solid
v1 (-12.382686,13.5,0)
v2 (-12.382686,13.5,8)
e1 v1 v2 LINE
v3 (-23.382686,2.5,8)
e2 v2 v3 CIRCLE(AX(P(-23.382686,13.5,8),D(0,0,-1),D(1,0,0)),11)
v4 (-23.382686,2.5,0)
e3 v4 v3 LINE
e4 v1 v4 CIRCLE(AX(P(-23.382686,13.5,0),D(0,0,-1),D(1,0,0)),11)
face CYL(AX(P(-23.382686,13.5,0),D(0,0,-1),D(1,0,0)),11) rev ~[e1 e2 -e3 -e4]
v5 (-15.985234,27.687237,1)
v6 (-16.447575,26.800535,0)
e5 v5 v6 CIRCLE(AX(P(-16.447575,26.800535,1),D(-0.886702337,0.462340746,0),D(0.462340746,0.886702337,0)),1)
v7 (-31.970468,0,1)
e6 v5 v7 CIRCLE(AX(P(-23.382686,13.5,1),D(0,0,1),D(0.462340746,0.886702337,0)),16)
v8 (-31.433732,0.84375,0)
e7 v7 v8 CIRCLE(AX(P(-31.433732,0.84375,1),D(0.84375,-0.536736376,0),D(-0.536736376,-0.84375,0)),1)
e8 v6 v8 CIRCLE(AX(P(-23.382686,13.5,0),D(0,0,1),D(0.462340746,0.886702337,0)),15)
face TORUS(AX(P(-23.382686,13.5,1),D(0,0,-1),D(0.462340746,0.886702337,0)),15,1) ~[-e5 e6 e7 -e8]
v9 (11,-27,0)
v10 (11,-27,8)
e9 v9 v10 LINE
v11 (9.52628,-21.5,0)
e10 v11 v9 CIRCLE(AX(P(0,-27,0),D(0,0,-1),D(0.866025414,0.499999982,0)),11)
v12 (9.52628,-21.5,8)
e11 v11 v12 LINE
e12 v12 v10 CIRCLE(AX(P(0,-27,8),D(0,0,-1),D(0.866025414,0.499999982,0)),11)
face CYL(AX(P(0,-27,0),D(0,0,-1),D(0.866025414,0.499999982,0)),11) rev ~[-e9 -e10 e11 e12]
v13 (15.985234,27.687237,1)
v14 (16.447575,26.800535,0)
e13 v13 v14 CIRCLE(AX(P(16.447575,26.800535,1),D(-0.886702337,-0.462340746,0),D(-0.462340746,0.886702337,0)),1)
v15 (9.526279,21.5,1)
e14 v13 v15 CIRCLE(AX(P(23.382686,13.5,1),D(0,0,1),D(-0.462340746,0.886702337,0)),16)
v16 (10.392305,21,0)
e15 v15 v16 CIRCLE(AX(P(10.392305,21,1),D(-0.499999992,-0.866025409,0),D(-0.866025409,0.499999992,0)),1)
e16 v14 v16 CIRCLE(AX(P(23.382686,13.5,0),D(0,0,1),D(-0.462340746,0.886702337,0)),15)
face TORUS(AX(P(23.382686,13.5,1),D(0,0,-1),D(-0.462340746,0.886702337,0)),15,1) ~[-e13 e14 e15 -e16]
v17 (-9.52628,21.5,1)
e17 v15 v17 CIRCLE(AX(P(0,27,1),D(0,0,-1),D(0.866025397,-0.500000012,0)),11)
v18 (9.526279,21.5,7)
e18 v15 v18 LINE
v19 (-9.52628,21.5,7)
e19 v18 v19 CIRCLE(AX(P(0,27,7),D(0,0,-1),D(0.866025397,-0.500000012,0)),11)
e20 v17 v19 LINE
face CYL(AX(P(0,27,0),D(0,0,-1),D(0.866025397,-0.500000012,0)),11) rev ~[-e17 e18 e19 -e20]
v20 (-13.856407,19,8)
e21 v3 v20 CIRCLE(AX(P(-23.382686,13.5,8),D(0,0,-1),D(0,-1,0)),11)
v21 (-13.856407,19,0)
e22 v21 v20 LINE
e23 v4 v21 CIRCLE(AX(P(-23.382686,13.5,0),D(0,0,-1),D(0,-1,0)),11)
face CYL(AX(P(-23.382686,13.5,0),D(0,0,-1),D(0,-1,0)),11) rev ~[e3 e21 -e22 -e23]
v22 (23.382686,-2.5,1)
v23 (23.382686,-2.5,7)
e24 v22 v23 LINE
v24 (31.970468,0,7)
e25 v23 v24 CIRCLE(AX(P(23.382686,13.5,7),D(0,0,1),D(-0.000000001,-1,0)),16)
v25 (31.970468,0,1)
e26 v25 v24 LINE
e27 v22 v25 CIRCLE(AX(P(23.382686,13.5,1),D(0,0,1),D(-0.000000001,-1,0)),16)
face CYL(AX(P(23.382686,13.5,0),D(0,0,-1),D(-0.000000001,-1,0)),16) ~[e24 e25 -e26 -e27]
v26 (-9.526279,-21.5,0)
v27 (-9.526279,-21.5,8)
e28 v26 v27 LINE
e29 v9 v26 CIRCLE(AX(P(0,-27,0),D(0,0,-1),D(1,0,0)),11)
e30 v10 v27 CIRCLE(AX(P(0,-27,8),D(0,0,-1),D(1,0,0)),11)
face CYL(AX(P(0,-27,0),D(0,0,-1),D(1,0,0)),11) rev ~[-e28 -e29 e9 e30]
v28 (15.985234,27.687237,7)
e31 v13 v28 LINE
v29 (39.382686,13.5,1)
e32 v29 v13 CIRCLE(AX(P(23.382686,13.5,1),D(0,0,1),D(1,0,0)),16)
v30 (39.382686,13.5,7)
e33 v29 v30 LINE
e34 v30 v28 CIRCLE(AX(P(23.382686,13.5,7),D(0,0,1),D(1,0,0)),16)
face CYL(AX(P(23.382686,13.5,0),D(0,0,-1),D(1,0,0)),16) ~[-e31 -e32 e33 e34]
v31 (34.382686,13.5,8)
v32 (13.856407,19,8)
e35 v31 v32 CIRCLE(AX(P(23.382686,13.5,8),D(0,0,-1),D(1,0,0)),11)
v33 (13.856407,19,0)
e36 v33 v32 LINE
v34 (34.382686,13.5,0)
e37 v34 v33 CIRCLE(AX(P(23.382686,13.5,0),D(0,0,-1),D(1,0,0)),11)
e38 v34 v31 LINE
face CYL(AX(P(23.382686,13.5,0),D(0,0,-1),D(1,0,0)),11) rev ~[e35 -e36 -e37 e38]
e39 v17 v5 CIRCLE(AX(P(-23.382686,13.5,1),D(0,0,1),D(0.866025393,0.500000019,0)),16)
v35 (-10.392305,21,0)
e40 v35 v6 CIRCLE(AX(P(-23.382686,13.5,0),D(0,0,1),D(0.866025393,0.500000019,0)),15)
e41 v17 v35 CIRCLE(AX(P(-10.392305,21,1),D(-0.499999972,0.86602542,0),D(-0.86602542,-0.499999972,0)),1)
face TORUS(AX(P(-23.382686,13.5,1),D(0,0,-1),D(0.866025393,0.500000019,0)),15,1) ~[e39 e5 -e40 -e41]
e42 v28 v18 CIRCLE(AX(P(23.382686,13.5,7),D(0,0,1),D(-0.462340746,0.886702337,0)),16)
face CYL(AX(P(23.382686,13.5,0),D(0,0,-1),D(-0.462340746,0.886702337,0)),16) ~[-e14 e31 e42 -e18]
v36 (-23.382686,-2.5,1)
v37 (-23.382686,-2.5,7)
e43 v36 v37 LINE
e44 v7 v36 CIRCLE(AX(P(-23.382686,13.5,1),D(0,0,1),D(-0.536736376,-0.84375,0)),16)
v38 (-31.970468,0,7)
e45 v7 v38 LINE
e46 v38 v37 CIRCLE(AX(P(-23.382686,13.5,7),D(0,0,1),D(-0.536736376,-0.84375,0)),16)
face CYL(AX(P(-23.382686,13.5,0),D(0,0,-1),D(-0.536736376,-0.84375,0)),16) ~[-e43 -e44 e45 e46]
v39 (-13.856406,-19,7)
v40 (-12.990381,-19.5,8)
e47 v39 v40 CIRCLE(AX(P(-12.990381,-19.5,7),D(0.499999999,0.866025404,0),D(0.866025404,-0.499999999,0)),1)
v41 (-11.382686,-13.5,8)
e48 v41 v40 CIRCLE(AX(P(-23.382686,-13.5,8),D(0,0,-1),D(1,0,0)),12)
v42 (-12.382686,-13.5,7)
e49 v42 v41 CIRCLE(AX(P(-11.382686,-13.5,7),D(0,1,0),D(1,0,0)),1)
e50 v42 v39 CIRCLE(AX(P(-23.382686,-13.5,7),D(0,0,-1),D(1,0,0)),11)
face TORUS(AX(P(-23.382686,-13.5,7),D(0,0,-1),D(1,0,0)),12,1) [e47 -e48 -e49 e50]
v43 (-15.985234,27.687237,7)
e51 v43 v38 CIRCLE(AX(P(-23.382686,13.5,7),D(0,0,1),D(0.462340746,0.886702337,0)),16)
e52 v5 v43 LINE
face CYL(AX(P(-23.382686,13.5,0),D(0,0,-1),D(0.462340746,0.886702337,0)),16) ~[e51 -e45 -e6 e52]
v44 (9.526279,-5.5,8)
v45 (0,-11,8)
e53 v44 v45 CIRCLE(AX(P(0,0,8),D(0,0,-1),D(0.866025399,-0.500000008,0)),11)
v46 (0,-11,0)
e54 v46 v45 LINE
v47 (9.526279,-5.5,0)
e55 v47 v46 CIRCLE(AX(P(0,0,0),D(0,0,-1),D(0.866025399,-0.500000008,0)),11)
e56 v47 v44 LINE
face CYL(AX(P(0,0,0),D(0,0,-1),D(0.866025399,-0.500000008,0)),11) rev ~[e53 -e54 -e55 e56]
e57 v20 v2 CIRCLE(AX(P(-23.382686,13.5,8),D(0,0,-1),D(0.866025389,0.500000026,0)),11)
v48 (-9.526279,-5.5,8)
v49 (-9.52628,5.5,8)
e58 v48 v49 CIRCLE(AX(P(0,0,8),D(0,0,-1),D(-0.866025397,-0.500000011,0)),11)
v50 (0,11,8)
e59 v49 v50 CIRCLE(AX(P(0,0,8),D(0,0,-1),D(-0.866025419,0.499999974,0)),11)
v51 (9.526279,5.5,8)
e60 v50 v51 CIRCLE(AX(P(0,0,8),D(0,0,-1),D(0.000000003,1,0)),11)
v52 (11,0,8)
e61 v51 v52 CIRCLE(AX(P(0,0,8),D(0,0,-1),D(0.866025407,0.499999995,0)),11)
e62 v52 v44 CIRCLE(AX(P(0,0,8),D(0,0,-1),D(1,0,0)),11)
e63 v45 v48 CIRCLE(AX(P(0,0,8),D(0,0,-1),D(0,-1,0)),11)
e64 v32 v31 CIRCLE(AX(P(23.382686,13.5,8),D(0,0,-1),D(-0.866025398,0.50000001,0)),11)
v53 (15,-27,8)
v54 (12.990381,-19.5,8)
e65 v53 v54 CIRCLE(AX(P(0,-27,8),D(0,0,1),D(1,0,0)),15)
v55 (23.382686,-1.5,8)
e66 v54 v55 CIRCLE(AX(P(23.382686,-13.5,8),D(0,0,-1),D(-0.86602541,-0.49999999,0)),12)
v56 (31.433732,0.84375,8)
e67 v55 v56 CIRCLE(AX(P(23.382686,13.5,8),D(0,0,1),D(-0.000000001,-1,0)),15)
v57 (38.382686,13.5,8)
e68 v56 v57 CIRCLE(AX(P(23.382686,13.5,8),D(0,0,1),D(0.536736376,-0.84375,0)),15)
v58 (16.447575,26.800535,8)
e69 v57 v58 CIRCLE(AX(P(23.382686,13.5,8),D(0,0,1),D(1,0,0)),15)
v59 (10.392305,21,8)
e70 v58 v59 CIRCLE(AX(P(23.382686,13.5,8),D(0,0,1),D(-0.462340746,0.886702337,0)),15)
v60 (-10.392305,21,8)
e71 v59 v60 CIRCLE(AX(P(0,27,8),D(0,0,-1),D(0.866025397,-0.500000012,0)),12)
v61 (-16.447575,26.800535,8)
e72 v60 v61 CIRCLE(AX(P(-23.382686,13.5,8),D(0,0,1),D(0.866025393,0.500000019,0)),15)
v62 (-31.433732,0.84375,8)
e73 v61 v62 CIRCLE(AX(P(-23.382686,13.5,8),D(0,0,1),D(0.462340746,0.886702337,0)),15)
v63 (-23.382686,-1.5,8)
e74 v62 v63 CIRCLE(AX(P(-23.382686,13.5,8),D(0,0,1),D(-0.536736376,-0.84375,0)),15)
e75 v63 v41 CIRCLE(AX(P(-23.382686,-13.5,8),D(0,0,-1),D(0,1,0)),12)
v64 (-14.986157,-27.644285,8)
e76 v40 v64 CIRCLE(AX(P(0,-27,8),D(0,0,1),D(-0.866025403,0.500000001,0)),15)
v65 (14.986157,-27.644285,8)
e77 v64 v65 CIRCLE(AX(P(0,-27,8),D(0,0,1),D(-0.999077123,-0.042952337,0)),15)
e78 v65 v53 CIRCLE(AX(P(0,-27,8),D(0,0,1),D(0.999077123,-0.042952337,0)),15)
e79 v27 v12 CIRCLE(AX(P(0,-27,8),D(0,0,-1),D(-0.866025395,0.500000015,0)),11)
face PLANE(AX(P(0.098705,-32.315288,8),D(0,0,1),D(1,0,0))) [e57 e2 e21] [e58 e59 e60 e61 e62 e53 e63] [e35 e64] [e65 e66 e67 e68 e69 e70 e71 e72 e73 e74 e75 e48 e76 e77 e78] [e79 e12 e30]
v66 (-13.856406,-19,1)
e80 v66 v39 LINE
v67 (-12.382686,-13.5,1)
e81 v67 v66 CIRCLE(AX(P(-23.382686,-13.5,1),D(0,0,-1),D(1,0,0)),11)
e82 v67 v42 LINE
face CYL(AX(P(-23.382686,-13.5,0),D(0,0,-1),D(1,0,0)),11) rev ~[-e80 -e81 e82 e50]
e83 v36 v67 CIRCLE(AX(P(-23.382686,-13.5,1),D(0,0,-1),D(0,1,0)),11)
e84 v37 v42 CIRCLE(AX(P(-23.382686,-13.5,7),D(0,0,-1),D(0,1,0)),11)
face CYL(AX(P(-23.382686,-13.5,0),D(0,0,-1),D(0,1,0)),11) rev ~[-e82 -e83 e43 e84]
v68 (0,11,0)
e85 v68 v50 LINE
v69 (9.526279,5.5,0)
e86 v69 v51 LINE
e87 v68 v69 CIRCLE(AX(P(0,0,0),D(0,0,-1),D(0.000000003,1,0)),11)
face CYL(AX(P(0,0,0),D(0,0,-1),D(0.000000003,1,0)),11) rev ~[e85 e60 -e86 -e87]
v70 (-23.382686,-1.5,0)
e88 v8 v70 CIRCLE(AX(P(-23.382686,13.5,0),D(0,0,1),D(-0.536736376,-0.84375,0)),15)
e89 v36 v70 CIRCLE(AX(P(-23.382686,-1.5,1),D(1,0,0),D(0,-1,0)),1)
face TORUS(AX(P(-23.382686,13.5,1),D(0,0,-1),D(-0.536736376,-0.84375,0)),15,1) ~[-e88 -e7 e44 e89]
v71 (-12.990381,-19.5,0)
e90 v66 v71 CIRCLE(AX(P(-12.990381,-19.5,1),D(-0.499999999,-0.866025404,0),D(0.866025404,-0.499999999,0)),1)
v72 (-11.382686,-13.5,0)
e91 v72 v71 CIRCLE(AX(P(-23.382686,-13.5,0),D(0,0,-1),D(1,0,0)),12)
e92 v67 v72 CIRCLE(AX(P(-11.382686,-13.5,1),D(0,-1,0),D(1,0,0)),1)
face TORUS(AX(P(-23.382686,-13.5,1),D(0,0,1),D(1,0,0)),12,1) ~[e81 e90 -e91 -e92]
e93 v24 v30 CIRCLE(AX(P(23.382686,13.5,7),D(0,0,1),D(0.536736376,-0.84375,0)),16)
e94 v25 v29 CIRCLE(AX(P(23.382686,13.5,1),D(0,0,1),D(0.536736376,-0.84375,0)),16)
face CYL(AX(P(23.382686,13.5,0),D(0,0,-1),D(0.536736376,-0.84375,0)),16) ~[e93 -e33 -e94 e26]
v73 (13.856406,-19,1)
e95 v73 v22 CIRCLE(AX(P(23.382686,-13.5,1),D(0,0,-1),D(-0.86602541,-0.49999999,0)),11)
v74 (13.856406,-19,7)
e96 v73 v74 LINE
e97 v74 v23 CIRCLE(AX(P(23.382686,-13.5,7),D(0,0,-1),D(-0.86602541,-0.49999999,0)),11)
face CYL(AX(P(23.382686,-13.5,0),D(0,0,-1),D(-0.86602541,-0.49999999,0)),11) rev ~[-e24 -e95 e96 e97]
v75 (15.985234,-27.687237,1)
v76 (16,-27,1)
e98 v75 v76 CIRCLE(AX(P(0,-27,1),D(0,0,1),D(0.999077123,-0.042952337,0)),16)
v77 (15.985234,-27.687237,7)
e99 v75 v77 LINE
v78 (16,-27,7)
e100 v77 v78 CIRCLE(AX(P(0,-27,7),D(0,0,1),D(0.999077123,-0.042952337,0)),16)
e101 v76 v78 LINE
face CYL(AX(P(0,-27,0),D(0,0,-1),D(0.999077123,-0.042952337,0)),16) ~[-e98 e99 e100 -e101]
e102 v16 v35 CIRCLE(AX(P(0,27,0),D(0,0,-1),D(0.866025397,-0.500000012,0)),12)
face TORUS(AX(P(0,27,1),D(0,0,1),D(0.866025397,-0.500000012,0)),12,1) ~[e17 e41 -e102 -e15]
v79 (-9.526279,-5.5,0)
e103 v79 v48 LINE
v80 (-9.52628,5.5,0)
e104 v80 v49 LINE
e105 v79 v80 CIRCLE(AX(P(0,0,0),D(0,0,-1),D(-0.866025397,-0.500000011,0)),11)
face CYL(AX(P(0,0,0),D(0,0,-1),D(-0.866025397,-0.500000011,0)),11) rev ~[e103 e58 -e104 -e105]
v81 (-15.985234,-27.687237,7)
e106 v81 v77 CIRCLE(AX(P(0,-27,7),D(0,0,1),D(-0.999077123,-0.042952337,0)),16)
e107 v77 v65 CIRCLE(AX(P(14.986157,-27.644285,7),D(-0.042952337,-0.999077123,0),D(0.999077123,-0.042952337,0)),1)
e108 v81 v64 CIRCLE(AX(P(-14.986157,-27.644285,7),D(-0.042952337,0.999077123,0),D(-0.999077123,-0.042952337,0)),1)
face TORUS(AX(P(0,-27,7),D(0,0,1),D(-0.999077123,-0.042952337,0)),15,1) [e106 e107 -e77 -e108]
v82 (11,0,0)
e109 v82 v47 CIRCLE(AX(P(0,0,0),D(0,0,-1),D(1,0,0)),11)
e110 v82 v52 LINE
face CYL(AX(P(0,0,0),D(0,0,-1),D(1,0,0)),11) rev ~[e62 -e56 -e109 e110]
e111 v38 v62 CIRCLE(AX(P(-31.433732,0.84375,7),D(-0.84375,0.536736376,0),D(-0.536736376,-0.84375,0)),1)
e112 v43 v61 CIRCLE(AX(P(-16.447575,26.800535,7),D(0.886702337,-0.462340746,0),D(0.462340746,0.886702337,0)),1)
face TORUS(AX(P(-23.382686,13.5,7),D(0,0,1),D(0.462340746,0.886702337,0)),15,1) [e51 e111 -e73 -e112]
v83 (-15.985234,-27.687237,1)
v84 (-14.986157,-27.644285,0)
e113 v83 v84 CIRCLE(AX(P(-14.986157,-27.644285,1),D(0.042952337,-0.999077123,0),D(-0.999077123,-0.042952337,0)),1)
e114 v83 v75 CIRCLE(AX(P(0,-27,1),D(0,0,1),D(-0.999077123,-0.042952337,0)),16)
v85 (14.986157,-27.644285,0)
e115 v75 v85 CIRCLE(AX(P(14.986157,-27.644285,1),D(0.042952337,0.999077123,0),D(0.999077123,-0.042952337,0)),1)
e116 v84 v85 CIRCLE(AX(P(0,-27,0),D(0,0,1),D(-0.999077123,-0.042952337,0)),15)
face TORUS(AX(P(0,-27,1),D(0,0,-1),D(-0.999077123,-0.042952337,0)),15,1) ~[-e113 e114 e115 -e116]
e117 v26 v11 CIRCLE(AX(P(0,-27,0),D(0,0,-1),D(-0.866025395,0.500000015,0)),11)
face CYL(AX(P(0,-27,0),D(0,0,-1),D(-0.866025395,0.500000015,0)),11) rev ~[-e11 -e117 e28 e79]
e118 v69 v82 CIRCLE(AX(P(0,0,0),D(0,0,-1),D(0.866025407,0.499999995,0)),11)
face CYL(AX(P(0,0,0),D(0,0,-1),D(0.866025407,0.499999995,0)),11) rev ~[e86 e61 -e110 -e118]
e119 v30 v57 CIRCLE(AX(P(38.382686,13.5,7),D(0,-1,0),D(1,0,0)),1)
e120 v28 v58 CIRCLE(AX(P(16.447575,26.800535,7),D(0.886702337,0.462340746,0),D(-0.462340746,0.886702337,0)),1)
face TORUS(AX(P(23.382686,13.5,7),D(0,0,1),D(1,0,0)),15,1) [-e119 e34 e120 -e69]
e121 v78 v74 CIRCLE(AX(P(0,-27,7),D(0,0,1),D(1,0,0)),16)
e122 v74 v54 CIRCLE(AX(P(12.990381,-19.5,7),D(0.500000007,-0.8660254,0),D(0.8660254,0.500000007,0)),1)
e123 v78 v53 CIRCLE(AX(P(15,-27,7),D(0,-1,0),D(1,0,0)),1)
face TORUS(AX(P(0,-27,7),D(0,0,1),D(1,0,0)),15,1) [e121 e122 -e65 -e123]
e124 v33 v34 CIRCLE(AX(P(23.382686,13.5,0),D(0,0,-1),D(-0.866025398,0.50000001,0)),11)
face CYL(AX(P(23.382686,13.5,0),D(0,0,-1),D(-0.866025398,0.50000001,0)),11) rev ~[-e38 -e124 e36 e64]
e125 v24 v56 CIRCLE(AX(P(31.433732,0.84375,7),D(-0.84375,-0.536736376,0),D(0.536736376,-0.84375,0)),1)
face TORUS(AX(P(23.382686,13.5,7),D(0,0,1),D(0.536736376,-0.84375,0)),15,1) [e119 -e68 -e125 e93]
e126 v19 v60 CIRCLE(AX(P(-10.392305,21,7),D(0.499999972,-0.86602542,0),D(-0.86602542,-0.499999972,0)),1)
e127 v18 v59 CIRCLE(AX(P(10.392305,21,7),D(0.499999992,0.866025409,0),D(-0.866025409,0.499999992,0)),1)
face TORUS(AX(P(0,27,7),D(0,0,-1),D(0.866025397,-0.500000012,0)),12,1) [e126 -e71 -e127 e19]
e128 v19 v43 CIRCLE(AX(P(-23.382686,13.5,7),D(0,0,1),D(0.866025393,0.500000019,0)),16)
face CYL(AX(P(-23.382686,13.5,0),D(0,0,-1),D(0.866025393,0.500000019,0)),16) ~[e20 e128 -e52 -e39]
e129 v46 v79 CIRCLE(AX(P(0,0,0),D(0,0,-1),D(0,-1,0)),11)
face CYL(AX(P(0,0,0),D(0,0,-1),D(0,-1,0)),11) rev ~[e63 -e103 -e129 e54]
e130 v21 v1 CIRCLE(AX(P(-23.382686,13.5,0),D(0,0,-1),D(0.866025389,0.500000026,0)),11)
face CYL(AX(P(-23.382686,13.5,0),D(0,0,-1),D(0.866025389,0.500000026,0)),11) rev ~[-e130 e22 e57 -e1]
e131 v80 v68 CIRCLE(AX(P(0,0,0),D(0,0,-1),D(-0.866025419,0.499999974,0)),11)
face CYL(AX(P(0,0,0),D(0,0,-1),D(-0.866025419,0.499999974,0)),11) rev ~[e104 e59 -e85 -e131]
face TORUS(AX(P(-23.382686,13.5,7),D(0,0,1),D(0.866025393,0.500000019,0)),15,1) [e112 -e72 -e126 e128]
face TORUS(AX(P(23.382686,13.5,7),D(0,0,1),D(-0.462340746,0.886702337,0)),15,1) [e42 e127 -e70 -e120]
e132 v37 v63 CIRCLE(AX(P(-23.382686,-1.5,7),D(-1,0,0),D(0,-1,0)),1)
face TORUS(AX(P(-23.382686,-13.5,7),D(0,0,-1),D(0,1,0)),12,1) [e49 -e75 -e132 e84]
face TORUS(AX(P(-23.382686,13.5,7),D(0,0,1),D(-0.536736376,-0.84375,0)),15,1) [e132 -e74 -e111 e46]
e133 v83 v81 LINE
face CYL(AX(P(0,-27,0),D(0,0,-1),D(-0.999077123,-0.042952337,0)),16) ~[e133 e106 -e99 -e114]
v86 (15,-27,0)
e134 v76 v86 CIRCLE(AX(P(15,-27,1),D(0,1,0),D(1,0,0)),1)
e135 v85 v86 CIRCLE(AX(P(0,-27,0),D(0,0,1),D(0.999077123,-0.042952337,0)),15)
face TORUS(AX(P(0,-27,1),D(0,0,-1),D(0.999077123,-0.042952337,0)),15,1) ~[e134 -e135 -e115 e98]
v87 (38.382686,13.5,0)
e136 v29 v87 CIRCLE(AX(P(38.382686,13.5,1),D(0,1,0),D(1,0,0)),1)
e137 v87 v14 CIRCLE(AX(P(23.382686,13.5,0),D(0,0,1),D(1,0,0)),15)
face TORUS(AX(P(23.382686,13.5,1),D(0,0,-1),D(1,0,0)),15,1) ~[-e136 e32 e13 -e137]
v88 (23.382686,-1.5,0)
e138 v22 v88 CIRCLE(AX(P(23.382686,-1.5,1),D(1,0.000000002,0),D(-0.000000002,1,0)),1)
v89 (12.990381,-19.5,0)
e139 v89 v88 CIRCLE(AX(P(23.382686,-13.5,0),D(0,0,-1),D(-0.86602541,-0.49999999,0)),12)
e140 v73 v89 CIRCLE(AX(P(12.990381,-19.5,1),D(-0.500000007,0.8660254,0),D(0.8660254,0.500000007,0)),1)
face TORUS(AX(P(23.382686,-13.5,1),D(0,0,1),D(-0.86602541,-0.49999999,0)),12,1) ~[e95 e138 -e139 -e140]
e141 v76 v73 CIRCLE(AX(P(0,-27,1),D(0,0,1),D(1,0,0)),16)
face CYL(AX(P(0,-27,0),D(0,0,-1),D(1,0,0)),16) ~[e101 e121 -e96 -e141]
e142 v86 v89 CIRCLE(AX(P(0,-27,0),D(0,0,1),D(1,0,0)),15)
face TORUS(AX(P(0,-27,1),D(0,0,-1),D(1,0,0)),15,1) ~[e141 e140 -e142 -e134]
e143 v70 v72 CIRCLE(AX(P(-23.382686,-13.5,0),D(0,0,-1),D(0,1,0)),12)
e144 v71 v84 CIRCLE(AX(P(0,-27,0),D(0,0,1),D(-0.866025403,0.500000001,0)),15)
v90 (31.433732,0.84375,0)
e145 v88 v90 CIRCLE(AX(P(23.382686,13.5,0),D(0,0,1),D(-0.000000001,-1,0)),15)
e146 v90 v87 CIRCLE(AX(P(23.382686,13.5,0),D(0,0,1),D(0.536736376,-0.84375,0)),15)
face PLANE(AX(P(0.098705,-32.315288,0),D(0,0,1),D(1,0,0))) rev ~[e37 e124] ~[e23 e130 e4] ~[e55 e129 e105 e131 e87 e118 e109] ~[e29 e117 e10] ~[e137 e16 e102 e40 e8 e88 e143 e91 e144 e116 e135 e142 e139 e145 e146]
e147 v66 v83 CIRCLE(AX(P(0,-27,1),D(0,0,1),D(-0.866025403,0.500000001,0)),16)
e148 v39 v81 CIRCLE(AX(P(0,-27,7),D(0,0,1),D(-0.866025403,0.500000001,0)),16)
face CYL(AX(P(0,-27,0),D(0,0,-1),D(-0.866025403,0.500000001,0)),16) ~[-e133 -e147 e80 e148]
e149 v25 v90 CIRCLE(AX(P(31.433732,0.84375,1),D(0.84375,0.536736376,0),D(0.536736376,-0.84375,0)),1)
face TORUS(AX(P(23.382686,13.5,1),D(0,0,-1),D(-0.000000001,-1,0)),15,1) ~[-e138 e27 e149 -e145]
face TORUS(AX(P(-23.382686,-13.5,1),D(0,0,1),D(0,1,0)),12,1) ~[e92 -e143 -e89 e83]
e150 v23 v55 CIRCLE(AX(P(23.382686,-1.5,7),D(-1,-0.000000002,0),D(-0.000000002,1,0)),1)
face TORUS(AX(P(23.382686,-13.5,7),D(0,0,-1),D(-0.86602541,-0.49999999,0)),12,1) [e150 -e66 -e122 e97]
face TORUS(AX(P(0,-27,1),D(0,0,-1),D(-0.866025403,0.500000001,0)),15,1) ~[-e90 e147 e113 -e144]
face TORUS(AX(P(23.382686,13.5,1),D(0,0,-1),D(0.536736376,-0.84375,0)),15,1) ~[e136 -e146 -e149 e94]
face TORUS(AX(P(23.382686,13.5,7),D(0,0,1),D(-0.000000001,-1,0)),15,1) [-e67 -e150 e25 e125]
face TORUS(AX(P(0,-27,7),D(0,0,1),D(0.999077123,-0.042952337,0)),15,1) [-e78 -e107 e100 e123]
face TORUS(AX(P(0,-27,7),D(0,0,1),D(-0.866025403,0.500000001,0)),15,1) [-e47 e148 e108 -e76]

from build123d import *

# Parameters (mm, degrees)
F1_DEPTH = 8
F2_R     = 1


with BuildPart() as f1:
    # F0 (on Top) → F1 (new body)
    with BuildSketch(Plane.XY):
        with BuildLine():
            ThreePointArc((15.9852339604, -27.6872373903), (12.314619268, -25.0541291746), (9.526279558, -21.5000002015))
            ThreePointArc((9.526279558, -21.5000002015), (10.6251841193, -24.1529906163), (11, -27))
            ThreePointArc((11, -27), (-2.8470095887, -37.6251840644), (-9.5262793458, -21.499999834))
            ThreePointArc((-9.5262793458, -21.499999834), (-12.3146191148, -25.0541290278), (-15.9852339604, -27.6872373903))
            ThreePointArc((-15.9852339604, -27.6872373903), (0, -43), (15.9852339604, -27.6872373903))
        make_face()
        with BuildLine():
            ThreePointArc((-7.3826859022, -13.5), (-7.386377838, -13.1563019979), (-7.3974519418, -12.8127626097))
            ThreePointArc((-7.3974519418, -12.8127626097), (-11.0680667134, -15.4458709014), (-13.856406454, -18.9999999886))
            ThreePointArc((-13.856406454, -18.9999999886), (-15.5402026716, -23.1918375919), (-15.9852339604, -27.6872373903))
            ThreePointArc((-15.9852339604, -27.6872373903), (-12.3146191148, -25.0541290278), (-9.5262793458, -21.499999834))
            ThreePointArc((-9.5262793458, -21.499999834), (-7.9278726567, -17.6411046291), (-7.3826859022, -13.5))
        make_face()
        with BuildLine():
            ThreePointArc((-7.3974519418, -12.8127626097), (-8.0203943864, -9.0278641137), (-9.5262793701, -5.500000124))
            ThreePointArc((-9.5262793701, -5.500000124), (-11.8285567586, -2.4319333335), (-14.7949038835, 0))
            ThreePointArc((-14.7949038835, 0), (-18.9105499472, -1.8622914957), (-23.3826859022, -2.5))
            ThreePointArc((-23.3826859022, -2.5), (-15.6045113091, -5.7218254069), (-12.3826859022, -13.5))
            ThreePointArc((-12.3826859022, -13.5), (-12.7575018113, -16.3470094898), (-13.856406454, -18.9999999886))
            ThreePointArc((-13.856406454, -18.9999999886), (-11.0680667134, -15.4458709014), (-7.3974519418, -12.8127626097))
        make_face()
        with BuildLine():
            ThreePointArc((-23.3826859022, -2.5), (-18.9105499472, -1.8622914957), (-14.7949038835, 0))
            ThreePointArc((-14.7949038835, 0), (-18.9105499472, 1.8622914957), (-23.3826859022, 2.5))
            ThreePointArc((-23.3826859022, 2.5), (-27.8548218572, 1.8622914957), (-31.9704679208, 0))
            ThreePointArc((-31.9704679208, 0), (-27.8548218572, -1.8622914957), (-23.3826859022, -2.5))
        make_face()
        with BuildLine():
            ThreePointArc((-23.3826859022, 2.5), (-32.9089654251, 18.9999998592), (-13.8564066231, 19.0000002816))
            ThreePointArc((-13.8564066231, 19.0000002816), (-15.5402027118, 23.1918377562), (-15.9852339604, 27.6872373903))
            ThreePointArc((-15.9852339604, 27.6872373903), (-37.2390923627, 21.5), (-31.9704679208, 0))
            ThreePointArc((-31.9704679208, 0), (-27.8548218572, 1.8622914957), (-23.3826859022, 2.5))
        make_face()
        with BuildLine():
            ThreePointArc((-13.8564066231, 19.0000002816), (-11.0680668355, 15.4458710184), (-7.3974519418, 12.8127626097))
            ThreePointArc((-7.3974519418, 12.8127626097), (-7.386377838, 13.1563019979), (-7.3826859022, 13.5))
            ThreePointArc((-7.3826859022, 13.5), (-7.9278727276, 17.6411048934), (-9.5262796194, 21.5000003079))
            ThreePointArc((-9.5262796194, 21.5000003079), (-12.3146193124, 25.0541292171), (-15.9852339604, 27.6872373903))
            ThreePointArc((-15.9852339604, 27.6872373903), (-15.5402027118, 23.1918377562), (-13.8564066231, 19.0000002816))
        make_face()
        with BuildLine():
            ThreePointArc((-7.3974519418, 12.8127626097), (-3.8081623856, 11.4597973229), (3.3e-08, 11))
            ThreePointArc((3.3e-08, 11), (3.8081624177, 11.4597973308), (7.3974519418, 12.8127626097))
            ThreePointArc((7.3974519418, 12.8127626097), (7.8424832108, 17.3081623274), (9.5262793652, 21.4999998676))
            ThreePointArc((9.5262793652, 21.4999998676), (-2.542e-07, 16), (-9.5262796194, 21.5000003079))
            ThreePointArc((-9.5262796194, 21.5000003079), (-7.9278727276, 17.6411048934), (-7.3826859022, 13.5))
            ThreePointArc((-7.3826859022, 13.5), (-7.386377838, 13.1563019979), (-7.3974519418, 12.8127626097))
        make_face()
        with BuildLine():
            ThreePointArc((9.5262793652, 21.4999998676), (7.8424832108, 17.3081623274), (7.3974519418, 12.8127626097))
            ThreePointArc((7.3974519418, 12.8127626097), (11.0680667622, 15.4458709481), (13.8564065215, 19.0000001056))
            ThreePointArc((13.8564065215, 19.0000001056), (15.4548132364, 22.8588953372), (16, 27))
            ThreePointArc((16, 27), (15.9963080642, 27.3436980021), (15.9852339604, 27.6872373903))
            ThreePointArc((15.9852339604, 27.6872373903), (12.3146191288, 25.0541290412), (9.5262793652, 21.4999998676))
        make_face()
        with BuildLine():
            ThreePointArc((16, 27), (15.4548132364, 22.8588953372), (13.8564065215, 19.0000001056))
            ThreePointArc((13.8564065215, 19.0000001056), (26.2296954572, 24.1251840734), (34.3826859022, 13.5))
            ThreePointArc((34.3826859022, 13.5), (31.1608604876, 5.7218253993), (23.3826858806, 2.5))
            ThreePointArc((23.3826858806, 2.5), (27.8548218468, 1.8622914987), (31.9704679208, 0))
            ThreePointArc((31.9704679208, 0), (37.4077440535, 5.799497169), (39.3826859022, 13.5))
            ThreePointArc((39.3826859022, 13.5), (31.6784911353, 27.1813601493), (15.9852339604, 27.6872373903))
            ThreePointArc((15.9852339604, 27.6872373903), (15.9963080642, 27.3436980021), (16, 27))
        make_face()
        with BuildLine():
            ThreePointArc((23.3826858806, 2.5), (18.9105499368, 1.8622914927), (14.7949038835, 0))
            ThreePointArc((14.7949038835, 0), (18.910549937, -1.8622914928), (23.3826858809, -2.5))
            ThreePointArc((23.3826858809, -2.5), (27.854821847, -1.8622914987), (31.9704679208, 0))
            ThreePointArc((31.9704679208, 0), (27.8548218468, 1.8622914987), (23.3826858806, 2.5))
        make_face()
        with BuildLine():
            ThreePointArc((14.7949038835, 0), (11.8285567738, -2.4319333177), (9.526279392, -5.5000000859))
            ThreePointArc((9.526279392, -5.5000000859), (8.0203943926, -9.0278640926), (7.3974519418, -12.8127626097))
            ThreePointArc((7.3974519418, -12.8127626097), (11.0680666727, -15.4458708624), (13.8564063976, -18.9999998909))
            ThreePointArc((13.8564063976, -18.9999998909), (13.8564064867, -7.9999999547), (23.3826858809, -2.5))
            ThreePointArc((23.3826858809, -2.5), (18.910549937, -1.8622914928), (14.7949038835, 0))
        make_face()
        with BuildLine():
            ThreePointArc((13.8564063976, -18.9999998909), (11.0680666727, -15.4458708624), (7.3974519418, -12.8127626097))
            ThreePointArc((7.3974519418, -12.8127626097), (7.8424832567, -17.3081625147), (9.526279558, -21.5000002015))
            ThreePointArc((9.526279558, -21.5000002015), (12.314619268, -25.0541291746), (15.9852339604, -27.6872373903))
            ThreePointArc((15.9852339604, -27.6872373903), (15.9963080642, -27.3436980021), (16, -27))
            ThreePointArc((16, -27), (15.4548132043, -22.8588952175), (13.8564063976, -18.9999998909))
        make_face()
        with BuildLine():
            ThreePointArc((7.3974519418, -12.8127626097), (3.8081624017, -11.4597973269), (0, -11))
            ThreePointArc((0, -11), (-3.8081624017, -11.4597973269), (-7.3974519418, -12.8127626097))
            ThreePointArc((-7.3974519418, -12.8127626097), (-7.386377838, -13.1563019979), (-7.3826859022, -13.5))
            ThreePointArc((-7.3826859022, -13.5), (-7.9278726567, -17.6411046291), (-9.5262793458, -21.499999834))
            ThreePointArc((-9.5262793458, -21.499999834), (2.122e-07, -16), (9.526279558, -21.5000002015))
            ThreePointArc((9.526279558, -21.5000002015), (7.8424832567, -17.3081625147), (7.3974519418, -12.8127626097))
        make_face()
        with BuildLine():
            ThreePointArc((-14.7949038835, 0), (-11.8285569219, 2.4319331631), (-9.5262796061, 5.4999997152))
            ThreePointArc((-9.5262796061, 5.4999997152), (-8.0203944524, 9.0278638871), (-7.3974519418, 12.8127626097))
            ThreePointArc((-7.3974519418, 12.8127626097), (-11.0680668355, 15.4458710184), (-13.8564066231, 19.0000002816))
            ThreePointArc((-13.8564066231, 19.0000002816), (-12.7575018551, 16.3470096532), (-12.3826859022, 13.5))
            ThreePointArc((-12.3826859022, 13.5), (-15.6045113091, 5.7218254069), (-23.3826859022, 2.5))
            ThreePointArc((-23.3826859022, 2.5), (-18.9105499472, 1.8622914957), (-14.7949038835, 0))
        make_face()
        with BuildLine():
            ThreePointArc((-9.5262793701, -5.500000124), (-11, -2.36e-07), (-9.5262796061, 5.4999997152))
            ThreePointArc((-9.5262796061, 5.4999997152), (-11.8285569219, 2.4319331631), (-14.7949038835, 0))
            ThreePointArc((-14.7949038835, 0), (-11.8285567586, -2.4319333335), (-9.5262793701, -5.500000124))
        make_face()
        with BuildLine():
            ThreePointArc((-9.5262796061, 5.4999997152), (-5.5000001281, 9.5262793677), (3.3e-08, 11))
            ThreePointArc((3.3e-08, 11), (-3.8081623856, 11.4597973229), (-7.3974519418, 12.8127626097))
            ThreePointArc((-7.3974519418, 12.8127626097), (-8.0203944524, 9.0278638871), (-9.5262796061, 5.4999997152))
        make_face()
        with BuildLine():
            ThreePointArc((3.3e-08, 11), (5.5000000405, 9.5262794182), (9.5262794719, 5.4999999476))
            ThreePointArc((9.5262794719, 5.4999999476), (8.0203944149, 9.027864016), (7.3974519418, 12.8127626097))
            ThreePointArc((7.3974519418, 12.8127626097), (3.8081624177, 11.4597973308), (3.3e-08, 11))
        make_face()
        with BuildLine():
            ThreePointArc((9.5262794719, 5.4999999476), (10.625184097, 2.8470094669), (11, 0))
            ThreePointArc((11, 0), (10.6251840763, -2.847009544), (9.526279392, -5.5000000859))
            ThreePointArc((9.526279392, -5.5000000859), (11.8285567738, -2.4319333177), (14.7949038835, 0))
            ThreePointArc((14.7949038835, 0), (11.828556829, 2.43193326), (9.5262794719, 5.4999999476))
        make_face()
        with BuildLine():
            ThreePointArc((7.3974519418, -12.8127626097), (8.0203943926, -9.0278640926), (9.526279392, -5.5000000859))
            ThreePointArc((9.526279392, -5.5000000859), (5.4999999571, -9.5262794664), (0, -11))
            ThreePointArc((0, -11), (3.8081624017, -11.4597973269), (7.3974519418, -12.8127626097))
        make_face()
        with BuildLine():
            ThreePointArc((-7.3974519418, -12.8127626097), (-3.8081624017, -11.4597973269), (0, -11))
            ThreePointArc((0, -11), (-5.499999938, -9.5262794774), (-9.5262793701, -5.500000124))
            ThreePointArc((-9.5262793701, -5.500000124), (-8.0203943864, -9.0278641137), (-7.3974519418, -12.8127626097))
        make_face()
        with BuildLine():
            ThreePointArc((7.3974519418, 12.8127626097), (8.0203944149, 9.027864016), (9.5262794719, 5.4999999476))
            ThreePointArc((9.5262794719, 5.4999999476), (11.828556829, 2.43193326), (14.7949038835, 0))
            ThreePointArc((14.7949038835, 0), (18.9105499368, 1.8622914927), (23.3826858806, 2.5))
            ThreePointArc((23.3826858806, 2.5), (13.8564064247, 8.0000000621), (13.8564065215, 19.0000001056))
            ThreePointArc((13.8564065215, 19.0000001056), (11.0680667622, 15.4458709481), (7.3974519418, 12.8127626097))
        make_face()
    extrude(amount=F1_DEPTH)

    # F2
    f2_edges = [f1.edges().sort_by_distance(p)[0] for p in [
        (-13.856406, -19, 4),
        (13.856406, -19, 4),
        (0, -43, 0),
        (0, -43, 8),
    ]]
    fillet(f2_edges, radius=F2_R)


solid = f1.part
